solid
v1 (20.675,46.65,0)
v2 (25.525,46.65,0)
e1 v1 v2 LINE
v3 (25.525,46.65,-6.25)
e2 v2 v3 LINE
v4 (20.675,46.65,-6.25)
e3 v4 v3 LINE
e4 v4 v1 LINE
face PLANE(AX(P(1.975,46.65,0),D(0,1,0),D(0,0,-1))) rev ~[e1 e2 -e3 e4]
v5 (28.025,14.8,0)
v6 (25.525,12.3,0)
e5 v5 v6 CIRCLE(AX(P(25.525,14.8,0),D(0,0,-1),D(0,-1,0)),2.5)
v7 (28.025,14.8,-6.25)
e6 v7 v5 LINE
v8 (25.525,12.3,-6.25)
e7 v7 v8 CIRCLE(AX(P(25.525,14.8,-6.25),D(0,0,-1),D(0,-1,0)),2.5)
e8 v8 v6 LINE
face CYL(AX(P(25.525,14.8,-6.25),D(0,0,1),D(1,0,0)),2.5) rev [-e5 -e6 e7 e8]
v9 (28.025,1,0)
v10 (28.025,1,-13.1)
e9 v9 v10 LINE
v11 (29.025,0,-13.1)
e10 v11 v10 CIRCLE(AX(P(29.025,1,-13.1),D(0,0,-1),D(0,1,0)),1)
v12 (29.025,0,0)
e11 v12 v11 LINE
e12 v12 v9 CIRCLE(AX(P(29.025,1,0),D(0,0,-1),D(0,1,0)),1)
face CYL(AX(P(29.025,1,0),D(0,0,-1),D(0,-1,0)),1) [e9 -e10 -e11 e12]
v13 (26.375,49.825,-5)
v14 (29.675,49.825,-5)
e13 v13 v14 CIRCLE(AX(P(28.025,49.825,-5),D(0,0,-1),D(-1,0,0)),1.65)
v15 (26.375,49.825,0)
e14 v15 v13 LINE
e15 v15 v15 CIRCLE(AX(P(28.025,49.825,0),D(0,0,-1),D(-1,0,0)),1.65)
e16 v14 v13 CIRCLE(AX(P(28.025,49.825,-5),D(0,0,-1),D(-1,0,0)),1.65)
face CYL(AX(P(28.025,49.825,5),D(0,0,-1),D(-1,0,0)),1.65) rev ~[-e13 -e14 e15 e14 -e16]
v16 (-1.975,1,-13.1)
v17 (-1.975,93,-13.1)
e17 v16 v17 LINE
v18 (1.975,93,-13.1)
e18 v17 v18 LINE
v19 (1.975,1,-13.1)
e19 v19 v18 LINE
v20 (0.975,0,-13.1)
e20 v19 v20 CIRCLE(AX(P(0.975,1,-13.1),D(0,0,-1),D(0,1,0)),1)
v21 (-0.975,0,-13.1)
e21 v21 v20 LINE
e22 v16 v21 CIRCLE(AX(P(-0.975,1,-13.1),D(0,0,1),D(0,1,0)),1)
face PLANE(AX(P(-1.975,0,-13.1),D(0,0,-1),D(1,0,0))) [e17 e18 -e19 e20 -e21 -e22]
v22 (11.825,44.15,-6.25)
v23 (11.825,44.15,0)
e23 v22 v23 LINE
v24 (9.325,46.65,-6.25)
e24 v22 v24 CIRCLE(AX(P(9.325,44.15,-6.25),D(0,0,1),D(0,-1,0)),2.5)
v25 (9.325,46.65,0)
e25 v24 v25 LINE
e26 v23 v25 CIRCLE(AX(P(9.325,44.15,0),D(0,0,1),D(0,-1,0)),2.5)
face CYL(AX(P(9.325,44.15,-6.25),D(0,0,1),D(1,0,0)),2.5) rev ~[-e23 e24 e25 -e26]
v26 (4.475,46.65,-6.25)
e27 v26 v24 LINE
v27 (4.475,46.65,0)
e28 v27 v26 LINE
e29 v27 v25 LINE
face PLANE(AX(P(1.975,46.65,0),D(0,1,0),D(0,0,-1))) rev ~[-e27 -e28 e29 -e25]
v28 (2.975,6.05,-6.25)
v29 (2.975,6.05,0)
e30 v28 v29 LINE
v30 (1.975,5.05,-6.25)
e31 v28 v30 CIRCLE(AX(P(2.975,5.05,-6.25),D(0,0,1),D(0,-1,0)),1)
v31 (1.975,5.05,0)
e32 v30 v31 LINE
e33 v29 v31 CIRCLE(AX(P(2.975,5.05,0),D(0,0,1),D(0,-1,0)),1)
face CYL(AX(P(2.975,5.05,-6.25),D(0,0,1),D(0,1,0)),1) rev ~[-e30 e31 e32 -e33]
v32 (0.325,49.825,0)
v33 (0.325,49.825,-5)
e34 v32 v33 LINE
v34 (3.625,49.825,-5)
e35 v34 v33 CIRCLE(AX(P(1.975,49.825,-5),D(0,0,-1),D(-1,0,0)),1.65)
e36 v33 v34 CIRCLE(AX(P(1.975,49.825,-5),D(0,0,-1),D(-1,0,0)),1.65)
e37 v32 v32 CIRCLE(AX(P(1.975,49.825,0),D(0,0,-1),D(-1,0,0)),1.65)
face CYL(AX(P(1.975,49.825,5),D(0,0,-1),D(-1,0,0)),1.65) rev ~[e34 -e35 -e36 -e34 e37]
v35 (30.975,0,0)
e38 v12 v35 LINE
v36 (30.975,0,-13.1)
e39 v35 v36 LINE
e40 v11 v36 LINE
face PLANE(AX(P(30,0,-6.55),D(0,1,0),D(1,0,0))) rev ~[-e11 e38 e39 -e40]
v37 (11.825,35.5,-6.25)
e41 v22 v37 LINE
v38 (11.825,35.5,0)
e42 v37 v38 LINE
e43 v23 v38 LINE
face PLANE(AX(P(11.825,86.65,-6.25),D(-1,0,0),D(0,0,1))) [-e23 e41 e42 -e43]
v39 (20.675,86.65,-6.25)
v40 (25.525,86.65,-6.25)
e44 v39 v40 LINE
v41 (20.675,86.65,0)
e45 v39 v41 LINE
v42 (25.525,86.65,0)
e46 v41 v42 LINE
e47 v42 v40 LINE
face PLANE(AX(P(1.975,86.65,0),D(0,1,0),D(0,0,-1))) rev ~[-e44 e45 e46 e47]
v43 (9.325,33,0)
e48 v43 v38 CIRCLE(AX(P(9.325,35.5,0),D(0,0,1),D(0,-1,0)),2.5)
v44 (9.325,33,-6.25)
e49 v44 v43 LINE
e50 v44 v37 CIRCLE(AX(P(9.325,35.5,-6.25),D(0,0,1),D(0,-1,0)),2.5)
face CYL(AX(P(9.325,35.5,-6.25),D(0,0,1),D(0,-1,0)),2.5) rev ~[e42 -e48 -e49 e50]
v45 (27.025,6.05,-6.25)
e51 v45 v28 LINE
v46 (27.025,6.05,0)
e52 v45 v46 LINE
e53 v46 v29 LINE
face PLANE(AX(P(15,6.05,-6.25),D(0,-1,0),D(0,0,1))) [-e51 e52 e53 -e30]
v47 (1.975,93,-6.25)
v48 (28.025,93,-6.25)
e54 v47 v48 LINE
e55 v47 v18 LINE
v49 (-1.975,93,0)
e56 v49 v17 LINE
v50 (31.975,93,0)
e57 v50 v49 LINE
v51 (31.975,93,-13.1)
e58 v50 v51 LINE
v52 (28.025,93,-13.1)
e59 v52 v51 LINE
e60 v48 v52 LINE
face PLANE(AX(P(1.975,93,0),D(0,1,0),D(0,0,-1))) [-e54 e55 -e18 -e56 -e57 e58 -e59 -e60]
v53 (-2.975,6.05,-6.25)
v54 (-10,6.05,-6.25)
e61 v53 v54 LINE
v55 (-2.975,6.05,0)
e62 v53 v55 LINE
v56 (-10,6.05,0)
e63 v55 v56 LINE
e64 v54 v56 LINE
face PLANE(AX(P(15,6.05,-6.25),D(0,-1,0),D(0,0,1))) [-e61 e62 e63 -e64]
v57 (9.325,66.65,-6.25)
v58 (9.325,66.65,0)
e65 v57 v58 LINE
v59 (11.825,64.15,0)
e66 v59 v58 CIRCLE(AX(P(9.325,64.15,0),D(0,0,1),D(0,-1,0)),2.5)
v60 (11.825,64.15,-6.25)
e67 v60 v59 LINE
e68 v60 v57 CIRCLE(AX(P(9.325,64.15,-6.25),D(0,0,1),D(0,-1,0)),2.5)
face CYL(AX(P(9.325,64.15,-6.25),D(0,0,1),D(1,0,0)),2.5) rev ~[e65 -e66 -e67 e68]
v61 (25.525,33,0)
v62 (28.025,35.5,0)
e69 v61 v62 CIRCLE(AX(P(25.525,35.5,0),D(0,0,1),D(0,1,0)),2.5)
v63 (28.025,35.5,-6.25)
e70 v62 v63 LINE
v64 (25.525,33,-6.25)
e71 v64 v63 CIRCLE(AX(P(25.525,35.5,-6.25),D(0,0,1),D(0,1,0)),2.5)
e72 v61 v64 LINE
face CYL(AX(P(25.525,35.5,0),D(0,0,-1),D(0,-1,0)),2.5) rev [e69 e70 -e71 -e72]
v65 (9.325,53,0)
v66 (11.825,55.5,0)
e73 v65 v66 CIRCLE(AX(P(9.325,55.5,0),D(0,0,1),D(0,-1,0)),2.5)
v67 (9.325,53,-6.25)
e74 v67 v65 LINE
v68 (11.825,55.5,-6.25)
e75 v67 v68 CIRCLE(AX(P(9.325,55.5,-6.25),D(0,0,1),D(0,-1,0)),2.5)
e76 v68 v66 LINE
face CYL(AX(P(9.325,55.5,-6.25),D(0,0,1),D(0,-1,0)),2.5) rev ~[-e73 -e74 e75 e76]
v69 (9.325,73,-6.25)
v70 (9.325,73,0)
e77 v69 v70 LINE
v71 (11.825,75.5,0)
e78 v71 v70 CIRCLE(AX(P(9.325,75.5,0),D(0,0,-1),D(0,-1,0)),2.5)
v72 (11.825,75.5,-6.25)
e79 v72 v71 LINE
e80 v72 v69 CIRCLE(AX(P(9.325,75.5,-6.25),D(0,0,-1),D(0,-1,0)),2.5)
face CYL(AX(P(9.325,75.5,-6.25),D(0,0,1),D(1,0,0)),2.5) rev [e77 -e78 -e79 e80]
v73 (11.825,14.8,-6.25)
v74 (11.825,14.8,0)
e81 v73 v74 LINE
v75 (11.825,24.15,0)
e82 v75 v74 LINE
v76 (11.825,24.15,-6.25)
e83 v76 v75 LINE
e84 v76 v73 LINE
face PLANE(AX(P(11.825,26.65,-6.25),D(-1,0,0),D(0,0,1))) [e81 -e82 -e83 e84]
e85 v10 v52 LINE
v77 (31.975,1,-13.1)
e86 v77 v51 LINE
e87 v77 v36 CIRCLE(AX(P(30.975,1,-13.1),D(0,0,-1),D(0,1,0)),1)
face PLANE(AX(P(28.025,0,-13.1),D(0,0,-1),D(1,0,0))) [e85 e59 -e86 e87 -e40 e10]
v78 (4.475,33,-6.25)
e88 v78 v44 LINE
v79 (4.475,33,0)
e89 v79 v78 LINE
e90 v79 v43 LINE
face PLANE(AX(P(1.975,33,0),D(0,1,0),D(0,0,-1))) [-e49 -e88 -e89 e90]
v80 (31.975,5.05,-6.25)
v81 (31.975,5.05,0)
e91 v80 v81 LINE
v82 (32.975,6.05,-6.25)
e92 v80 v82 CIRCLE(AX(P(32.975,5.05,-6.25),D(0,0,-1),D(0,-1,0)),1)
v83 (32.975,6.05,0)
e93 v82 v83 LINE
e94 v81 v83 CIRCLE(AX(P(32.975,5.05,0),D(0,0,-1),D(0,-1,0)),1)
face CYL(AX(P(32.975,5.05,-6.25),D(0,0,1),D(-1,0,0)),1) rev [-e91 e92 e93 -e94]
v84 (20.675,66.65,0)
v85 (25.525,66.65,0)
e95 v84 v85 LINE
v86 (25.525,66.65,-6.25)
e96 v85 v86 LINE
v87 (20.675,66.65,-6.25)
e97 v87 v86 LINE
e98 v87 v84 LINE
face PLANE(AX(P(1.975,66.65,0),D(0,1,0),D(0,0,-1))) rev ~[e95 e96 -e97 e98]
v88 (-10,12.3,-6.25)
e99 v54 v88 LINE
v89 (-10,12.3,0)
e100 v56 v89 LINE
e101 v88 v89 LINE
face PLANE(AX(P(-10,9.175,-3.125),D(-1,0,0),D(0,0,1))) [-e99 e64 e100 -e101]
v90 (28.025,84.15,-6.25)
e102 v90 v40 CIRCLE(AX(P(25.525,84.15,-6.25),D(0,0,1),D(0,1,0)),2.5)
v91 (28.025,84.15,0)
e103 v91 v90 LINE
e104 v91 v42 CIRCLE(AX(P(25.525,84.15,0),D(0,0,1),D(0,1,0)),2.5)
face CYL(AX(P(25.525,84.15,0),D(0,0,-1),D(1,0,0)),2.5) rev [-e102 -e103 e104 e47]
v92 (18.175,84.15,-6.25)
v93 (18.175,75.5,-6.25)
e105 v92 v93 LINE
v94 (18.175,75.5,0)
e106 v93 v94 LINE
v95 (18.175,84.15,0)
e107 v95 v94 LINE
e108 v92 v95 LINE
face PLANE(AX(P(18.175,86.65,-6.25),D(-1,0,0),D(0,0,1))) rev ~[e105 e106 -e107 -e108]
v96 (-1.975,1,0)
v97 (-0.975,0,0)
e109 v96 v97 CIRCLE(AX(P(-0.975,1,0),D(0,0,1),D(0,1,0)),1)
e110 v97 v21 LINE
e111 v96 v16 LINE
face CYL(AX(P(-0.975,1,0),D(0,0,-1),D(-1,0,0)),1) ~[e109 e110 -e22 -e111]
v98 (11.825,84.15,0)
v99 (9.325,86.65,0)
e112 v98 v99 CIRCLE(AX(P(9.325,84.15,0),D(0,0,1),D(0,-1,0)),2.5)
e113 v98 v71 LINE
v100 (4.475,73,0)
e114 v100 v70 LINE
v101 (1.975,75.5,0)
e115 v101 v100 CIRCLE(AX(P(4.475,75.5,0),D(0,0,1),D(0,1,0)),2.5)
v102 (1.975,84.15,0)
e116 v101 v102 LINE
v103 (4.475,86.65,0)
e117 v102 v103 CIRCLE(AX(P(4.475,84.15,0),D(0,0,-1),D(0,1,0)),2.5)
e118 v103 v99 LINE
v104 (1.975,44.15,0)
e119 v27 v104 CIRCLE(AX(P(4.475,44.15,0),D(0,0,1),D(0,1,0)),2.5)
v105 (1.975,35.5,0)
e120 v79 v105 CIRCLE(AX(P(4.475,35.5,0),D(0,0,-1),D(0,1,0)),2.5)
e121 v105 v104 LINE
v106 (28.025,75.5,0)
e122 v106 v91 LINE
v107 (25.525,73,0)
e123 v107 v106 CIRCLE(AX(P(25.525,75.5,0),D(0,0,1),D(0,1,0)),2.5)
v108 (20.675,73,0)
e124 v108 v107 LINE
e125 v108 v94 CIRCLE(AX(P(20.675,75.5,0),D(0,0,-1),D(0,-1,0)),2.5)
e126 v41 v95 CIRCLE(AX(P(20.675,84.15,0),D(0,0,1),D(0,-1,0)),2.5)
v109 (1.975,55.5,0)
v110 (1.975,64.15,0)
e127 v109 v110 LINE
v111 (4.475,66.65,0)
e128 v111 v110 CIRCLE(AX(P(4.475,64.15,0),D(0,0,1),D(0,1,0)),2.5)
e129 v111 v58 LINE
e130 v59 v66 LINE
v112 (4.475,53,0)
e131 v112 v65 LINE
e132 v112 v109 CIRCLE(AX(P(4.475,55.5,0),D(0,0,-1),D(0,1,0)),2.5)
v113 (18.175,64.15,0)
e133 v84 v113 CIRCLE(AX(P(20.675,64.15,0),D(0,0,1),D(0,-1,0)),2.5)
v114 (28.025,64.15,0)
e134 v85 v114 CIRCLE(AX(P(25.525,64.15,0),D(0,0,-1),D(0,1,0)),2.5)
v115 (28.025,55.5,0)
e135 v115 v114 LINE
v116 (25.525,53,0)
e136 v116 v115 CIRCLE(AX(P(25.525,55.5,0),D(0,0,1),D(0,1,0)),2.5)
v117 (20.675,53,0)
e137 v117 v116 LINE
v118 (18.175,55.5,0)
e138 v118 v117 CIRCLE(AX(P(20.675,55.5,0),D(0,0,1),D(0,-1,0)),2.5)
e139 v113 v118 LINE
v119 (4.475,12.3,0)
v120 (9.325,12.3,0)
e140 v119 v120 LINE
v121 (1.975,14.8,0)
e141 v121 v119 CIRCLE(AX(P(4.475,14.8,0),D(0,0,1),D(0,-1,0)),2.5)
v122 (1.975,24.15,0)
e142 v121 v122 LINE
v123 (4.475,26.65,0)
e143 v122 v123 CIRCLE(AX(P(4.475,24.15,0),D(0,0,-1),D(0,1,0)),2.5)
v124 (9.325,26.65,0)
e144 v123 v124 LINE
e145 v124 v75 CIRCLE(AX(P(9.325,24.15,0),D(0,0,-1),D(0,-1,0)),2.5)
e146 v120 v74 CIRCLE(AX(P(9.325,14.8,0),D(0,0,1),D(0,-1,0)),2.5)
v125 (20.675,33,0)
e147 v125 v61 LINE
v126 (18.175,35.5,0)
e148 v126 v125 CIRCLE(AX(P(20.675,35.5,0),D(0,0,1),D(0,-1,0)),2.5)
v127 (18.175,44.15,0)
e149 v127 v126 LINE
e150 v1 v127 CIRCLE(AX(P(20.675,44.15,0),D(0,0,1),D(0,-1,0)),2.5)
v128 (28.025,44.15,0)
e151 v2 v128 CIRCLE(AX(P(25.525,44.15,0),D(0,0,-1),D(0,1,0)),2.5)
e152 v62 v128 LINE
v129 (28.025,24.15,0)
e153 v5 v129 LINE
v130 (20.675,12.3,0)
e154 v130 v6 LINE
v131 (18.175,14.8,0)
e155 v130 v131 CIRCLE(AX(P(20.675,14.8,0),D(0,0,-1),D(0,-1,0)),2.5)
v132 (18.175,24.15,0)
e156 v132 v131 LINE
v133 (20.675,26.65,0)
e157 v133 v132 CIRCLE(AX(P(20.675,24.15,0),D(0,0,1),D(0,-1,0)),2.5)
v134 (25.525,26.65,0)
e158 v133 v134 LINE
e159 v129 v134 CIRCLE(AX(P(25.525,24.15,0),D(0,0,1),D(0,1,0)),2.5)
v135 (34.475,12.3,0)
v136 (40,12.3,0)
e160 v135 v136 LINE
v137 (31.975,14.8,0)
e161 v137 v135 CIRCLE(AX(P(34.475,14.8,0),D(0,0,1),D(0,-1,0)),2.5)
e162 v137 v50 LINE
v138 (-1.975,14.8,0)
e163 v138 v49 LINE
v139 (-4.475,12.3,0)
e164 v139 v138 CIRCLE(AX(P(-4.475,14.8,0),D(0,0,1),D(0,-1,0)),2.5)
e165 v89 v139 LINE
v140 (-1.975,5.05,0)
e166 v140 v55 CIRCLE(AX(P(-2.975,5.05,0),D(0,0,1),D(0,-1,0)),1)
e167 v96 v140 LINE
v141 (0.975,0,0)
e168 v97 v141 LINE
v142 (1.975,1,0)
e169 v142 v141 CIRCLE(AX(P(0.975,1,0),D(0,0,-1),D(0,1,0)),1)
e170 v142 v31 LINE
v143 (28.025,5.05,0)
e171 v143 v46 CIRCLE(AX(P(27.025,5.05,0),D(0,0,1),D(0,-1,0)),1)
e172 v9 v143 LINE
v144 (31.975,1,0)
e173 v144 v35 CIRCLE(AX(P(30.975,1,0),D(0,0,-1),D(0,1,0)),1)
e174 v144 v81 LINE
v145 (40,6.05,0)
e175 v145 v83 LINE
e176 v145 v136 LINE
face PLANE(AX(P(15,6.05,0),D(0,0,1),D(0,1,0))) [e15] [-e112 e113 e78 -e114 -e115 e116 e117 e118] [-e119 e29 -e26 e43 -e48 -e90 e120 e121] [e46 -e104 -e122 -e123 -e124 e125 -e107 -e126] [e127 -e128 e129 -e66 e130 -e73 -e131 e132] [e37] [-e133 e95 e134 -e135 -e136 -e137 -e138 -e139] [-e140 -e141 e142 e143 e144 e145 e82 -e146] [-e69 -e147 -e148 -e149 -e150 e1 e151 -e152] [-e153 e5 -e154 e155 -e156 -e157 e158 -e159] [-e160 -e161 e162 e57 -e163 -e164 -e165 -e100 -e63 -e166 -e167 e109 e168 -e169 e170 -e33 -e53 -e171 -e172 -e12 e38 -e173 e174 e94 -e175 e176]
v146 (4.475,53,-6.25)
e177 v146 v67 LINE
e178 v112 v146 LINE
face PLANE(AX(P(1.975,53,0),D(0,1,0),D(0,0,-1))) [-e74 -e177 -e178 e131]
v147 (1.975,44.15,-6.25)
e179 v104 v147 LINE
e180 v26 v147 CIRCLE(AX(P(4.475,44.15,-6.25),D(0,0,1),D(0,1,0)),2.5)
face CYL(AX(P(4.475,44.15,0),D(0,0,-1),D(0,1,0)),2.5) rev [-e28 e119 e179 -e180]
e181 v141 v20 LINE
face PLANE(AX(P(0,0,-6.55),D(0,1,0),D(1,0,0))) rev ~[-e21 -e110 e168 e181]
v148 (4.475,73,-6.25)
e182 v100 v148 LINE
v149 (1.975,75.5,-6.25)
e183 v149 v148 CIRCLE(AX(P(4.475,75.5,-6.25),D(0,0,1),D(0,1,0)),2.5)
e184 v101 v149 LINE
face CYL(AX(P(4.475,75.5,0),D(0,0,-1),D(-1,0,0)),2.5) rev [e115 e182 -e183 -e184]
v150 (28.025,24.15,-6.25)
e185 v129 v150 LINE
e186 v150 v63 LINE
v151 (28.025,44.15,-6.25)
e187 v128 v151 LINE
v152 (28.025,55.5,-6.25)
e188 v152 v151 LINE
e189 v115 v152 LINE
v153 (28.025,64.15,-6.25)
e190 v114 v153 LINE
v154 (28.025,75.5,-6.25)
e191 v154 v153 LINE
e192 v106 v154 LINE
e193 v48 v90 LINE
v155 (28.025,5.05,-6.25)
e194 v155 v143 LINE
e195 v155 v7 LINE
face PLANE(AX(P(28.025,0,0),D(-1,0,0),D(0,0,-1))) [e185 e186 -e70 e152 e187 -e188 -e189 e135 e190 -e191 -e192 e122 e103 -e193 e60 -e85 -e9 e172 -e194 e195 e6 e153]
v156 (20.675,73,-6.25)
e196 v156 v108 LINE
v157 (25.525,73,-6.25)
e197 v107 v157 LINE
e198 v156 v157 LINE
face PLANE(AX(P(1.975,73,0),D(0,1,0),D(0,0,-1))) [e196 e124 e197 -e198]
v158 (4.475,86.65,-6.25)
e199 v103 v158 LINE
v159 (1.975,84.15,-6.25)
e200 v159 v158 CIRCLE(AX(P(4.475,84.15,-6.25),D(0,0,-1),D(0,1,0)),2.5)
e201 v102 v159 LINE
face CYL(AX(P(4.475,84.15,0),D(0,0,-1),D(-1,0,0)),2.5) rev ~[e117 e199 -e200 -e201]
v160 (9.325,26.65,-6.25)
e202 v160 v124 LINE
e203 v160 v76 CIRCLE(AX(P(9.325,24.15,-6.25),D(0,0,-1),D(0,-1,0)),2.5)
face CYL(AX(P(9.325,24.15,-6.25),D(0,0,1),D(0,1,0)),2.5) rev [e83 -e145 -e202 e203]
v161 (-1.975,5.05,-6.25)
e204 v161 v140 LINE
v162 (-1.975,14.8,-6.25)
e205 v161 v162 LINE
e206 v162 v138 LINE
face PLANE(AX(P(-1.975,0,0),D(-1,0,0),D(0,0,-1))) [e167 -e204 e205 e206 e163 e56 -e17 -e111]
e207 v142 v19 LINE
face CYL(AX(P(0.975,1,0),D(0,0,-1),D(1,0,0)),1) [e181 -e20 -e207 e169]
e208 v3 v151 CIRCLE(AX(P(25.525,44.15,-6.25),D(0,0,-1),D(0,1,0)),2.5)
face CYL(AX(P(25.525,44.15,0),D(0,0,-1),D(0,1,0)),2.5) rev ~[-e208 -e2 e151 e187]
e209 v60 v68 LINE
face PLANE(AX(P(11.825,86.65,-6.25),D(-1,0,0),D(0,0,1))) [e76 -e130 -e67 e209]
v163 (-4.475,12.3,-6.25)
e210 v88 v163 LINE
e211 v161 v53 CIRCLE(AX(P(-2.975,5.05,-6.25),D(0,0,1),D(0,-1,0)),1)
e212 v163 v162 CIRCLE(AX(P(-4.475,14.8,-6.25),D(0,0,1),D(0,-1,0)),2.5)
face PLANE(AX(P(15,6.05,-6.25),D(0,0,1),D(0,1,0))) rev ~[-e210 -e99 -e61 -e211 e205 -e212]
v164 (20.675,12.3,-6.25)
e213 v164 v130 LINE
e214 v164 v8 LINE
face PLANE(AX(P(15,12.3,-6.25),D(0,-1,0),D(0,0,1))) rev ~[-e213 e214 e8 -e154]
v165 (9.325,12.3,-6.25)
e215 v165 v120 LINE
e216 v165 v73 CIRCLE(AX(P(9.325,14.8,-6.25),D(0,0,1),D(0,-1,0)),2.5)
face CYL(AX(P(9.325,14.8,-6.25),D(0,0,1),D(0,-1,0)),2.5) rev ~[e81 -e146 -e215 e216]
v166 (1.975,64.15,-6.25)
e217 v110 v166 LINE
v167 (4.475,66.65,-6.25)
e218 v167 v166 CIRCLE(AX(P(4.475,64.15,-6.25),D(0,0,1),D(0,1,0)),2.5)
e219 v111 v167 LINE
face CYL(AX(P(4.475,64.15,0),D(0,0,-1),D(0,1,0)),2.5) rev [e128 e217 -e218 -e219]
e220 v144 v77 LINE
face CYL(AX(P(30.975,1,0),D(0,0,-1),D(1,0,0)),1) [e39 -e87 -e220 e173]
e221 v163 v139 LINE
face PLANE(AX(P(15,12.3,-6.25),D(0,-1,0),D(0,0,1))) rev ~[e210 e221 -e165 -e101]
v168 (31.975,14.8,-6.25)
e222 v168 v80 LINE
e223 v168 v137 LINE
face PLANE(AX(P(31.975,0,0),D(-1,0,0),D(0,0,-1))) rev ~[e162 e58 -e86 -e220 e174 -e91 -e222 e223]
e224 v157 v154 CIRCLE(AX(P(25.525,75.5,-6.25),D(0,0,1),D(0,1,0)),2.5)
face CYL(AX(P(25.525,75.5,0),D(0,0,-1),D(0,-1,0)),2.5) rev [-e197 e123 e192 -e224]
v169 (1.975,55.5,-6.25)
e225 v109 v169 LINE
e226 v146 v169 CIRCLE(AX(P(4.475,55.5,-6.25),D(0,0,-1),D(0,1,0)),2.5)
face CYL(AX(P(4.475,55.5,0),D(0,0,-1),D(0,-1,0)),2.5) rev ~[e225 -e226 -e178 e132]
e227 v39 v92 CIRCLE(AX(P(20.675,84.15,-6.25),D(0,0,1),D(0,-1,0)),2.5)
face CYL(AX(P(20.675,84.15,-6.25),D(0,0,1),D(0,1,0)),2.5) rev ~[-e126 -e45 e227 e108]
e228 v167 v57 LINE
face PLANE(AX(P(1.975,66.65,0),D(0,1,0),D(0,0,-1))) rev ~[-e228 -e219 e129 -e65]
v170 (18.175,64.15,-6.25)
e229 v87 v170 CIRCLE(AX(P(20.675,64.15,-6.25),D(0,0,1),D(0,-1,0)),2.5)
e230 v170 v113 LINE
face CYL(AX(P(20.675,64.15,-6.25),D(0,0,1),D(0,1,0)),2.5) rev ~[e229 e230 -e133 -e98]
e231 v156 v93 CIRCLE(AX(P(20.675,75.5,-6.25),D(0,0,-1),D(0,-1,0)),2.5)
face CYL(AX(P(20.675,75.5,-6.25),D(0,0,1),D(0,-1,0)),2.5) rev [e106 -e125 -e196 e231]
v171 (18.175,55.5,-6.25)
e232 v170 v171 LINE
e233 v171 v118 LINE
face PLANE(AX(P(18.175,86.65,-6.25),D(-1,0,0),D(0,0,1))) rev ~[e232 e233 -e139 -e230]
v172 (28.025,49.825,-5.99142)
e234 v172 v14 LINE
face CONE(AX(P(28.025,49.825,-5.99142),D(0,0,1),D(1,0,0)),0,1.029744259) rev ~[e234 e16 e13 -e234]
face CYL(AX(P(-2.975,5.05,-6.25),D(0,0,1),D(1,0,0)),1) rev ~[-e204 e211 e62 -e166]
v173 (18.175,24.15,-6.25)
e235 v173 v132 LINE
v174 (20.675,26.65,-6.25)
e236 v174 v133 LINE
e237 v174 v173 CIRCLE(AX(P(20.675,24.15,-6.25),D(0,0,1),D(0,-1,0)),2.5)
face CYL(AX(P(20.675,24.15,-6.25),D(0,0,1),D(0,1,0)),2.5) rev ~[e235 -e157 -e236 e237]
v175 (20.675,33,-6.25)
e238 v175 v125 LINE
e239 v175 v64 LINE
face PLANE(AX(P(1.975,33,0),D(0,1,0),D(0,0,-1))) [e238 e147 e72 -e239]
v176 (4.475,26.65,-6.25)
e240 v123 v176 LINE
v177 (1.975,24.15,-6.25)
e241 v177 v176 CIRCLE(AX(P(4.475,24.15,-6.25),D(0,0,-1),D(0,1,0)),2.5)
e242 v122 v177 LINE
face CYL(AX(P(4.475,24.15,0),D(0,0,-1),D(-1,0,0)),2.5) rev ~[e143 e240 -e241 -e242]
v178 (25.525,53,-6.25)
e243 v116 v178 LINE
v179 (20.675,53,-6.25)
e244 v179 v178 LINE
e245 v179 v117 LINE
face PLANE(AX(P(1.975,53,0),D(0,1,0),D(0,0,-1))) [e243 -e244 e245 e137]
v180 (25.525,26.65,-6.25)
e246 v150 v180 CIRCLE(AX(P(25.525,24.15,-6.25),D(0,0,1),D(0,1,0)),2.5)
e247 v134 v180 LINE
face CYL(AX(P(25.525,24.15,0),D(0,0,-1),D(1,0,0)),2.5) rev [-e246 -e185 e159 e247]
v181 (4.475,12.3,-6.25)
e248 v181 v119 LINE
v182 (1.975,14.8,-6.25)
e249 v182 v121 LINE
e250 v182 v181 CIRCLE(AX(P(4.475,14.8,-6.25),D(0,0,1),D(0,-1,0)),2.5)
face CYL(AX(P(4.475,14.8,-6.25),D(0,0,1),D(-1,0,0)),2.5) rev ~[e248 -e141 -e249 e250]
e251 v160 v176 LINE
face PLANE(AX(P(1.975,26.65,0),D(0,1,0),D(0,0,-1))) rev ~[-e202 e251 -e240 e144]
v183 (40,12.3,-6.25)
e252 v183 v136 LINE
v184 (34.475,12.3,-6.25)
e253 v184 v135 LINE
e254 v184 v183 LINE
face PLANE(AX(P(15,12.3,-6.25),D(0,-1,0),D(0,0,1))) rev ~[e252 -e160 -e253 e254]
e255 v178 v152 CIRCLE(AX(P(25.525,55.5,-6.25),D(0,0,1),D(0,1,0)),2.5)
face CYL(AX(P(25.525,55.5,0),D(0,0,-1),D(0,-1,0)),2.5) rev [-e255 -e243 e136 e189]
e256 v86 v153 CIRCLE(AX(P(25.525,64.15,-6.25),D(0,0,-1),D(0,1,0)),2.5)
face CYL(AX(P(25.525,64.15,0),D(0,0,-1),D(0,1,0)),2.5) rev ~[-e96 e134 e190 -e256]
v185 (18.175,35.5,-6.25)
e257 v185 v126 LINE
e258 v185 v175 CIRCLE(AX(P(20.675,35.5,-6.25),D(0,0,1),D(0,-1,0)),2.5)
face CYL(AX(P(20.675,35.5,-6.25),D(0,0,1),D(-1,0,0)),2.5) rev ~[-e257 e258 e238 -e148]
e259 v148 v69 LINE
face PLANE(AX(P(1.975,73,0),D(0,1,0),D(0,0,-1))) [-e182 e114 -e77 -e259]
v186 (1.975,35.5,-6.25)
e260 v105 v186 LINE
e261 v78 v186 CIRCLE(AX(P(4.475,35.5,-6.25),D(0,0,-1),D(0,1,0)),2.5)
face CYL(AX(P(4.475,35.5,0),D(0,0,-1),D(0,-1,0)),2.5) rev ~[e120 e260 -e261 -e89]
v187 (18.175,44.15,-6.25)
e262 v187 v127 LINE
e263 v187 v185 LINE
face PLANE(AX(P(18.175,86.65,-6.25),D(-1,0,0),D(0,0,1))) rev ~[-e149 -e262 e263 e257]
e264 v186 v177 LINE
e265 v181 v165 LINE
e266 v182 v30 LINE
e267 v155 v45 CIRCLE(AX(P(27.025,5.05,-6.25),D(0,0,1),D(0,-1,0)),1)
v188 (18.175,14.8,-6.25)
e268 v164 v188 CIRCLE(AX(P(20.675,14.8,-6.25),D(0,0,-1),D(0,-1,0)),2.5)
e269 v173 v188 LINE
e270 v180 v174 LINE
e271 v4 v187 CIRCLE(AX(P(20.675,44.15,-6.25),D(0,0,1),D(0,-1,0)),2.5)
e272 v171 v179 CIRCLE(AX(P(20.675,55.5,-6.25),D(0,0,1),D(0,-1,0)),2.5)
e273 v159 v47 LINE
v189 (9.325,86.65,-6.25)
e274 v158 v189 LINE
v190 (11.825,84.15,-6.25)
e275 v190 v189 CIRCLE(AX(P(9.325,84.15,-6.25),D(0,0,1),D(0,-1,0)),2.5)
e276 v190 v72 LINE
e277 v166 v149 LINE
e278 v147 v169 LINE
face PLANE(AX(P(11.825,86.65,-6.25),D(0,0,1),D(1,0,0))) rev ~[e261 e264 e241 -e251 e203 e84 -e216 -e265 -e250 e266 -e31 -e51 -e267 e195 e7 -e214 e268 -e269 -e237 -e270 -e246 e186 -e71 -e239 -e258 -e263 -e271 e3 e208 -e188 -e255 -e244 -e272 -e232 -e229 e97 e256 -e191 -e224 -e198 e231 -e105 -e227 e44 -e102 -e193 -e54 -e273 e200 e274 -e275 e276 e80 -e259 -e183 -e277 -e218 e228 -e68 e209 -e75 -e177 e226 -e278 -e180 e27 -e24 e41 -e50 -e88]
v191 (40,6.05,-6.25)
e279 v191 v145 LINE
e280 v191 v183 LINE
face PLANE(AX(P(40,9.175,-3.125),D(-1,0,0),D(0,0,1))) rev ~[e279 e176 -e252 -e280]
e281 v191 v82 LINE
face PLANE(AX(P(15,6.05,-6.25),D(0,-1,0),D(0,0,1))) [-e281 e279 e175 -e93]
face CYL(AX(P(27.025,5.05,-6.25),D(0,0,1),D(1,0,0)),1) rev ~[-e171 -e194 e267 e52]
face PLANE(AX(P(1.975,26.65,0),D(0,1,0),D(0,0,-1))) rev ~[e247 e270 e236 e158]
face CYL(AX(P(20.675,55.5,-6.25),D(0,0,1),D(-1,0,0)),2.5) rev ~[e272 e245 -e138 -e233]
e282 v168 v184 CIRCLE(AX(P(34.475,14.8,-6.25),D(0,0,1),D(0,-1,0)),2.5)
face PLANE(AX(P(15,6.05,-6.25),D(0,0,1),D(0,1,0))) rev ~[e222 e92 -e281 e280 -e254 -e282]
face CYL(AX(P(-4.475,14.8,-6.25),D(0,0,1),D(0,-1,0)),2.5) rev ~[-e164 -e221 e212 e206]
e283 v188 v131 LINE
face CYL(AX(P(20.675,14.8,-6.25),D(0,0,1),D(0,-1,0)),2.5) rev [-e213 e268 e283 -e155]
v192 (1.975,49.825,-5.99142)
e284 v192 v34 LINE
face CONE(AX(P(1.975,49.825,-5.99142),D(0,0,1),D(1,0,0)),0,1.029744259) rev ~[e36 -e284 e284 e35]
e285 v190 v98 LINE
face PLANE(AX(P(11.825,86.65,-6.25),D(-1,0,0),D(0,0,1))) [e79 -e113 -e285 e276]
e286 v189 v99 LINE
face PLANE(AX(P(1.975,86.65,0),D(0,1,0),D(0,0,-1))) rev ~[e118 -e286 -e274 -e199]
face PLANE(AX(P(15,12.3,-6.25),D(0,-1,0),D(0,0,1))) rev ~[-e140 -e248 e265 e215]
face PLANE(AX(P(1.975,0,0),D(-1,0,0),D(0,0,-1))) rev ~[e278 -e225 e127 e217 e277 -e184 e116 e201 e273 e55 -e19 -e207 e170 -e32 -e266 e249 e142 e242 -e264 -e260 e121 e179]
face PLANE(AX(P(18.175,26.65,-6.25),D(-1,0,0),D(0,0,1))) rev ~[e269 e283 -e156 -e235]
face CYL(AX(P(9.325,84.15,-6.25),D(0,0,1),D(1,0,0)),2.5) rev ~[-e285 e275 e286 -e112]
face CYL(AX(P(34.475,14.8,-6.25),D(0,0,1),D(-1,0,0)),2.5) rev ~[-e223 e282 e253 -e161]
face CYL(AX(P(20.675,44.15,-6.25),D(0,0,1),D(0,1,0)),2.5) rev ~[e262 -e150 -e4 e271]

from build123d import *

# Parameters (mm, degrees)
SKETCH1_W                      = 3.95
SKETCH1_H                      = 13.1
BOSS_EXTRUDE1_DEPTH            = 93
SKETCH2_W                      = 3.95
SKETCH2_H                      = 13.1
BOSS_EXTRUDE2_DEPTH            = 93
SKETCH3_W                      = 6.25
SKETCH3_H                      = 6.35
BOSS_EXTRUDE3_DEPTH            = 30
LPATTERN1_COUNT                = 4
LPATTERN1_PITCH                = 20
SKETCH4_W                      = 6.35
SKETCH4_H                      = 6.25
BOSS_EXTRUDE4_DEPTH            = 60
FILLET1_R                      = 2.5
SKETCH5_W                      = 6.25
SKETCH5_H                      = 6.25
BOSS_EXTRUDE5_DEPTH            = 25
FILLET2_R                      = 2.5
FILLET3_R                      = 2.5
SKETCH6_W                      = 6.35
SKETCH6_H                      = 6.25
BOSS_EXTRUDE6_DEPTH            = 14.35
FILLET4_R                      = 2.5
F_3_3_3_3_DIAMETER_HOLE1_D     = 3.3
F_3_3_3_3_DIAMETER_HOLE1_DEPTH = 5
F_3_3_3_3_DIAMETER_HOLE1_TIP   = 0.991420021
FILLET5_R                      = 1
FILLET6_R                      = 1


with BuildPart() as part:
    # Sketch1 → Boss-Extrude1 (new body)
    with BuildSketch(Plane(origin=(0, 0, 0), x_dir=(1, 0, 0), z_dir=(0, 1, 0))):
        with Locations((0, 6.55)):
            Rectangle(SKETCH1_W, SKETCH1_H)
    extrude(amount=BOSS_EXTRUDE1_DEPTH)



with BuildPart() as body_2:
    # Sketch2 → Boss-Extrude2 (new body)
    with BuildSketch(Plane(origin=(0, 0, 0), x_dir=(1, 0, 0), z_dir=(0, 1, 0))):
        with Locations((30, 6.55)):
            Rectangle(SKETCH2_W, SKETCH2_H)
    extrude(amount=BOSS_EXTRUDE2_DEPTH)


with BuildPart() as part_1:
    add(part.part)

    add(body_2.part)  # Boss-Extrude3 merges body 2
    # Sketch3 → Boss-Extrude3 (add)
    with BuildSketch(Plane(origin=(1.975, 0, 0), x_dir=(0, 0, -1), z_dir=(1, 0, 0))):
        with Locations((3.125, 89.825)):
            Rectangle(SKETCH3_W, SKETCH3_H)
    boss_extrude3 = extrude(amount=BOSS_EXTRUDE3_DEPTH)

    # LPattern1: Boss-Extrude3 ×4
    with Locations(*[(0, -i * LPATTERN1_PITCH, 0) for i in range(1, LPATTERN1_COUNT)]):
        add(boss_extrude3)

    # Sketch4 → Boss-Extrude4 (add)
    with BuildSketch(Plane.XZ.offset(-86.65)):
        with Locations((15, -3.125)):
            Rectangle(SKETCH4_W, SKETCH4_H)
    extrude(amount=BOSS_EXTRUDE4_DEPTH)

    # Fillet1
    fillet1_edges = [part_1.edges().sort_by_distance(p)[0] for p in [
        (18.175, 66.65, -3.125),
        (18.175, 53, -3.125),
        (18.175, 73, -3.125),
        (18.175, 86.65, -3.125),
        (18.175, 46.65, -3.125),
        (11.825, 66.65, -3.125),
        (11.825, 53, -3.125),
        (11.825, 73, -3.125),
        (11.825, 86.65, -3.125),
        (11.825, 46.65, -3.125),
        (28.025, 86.65, -3.125),
        (1.975, 86.65, -3.125),
        (28.025, 66.65, -3.125),
        (28.025, 73, -3.125),
        (1.975, 66.65, -3.125),
        (1.975, 73, -3.125),
        (28.025, 46.65, -3.125),
        (28.025, 53, -3.125),
        (1.975, 46.65, -3.125),
        (1.975, 53, -3.125),
        (28.025, 33, -3.125),
        (1.975, 33, -3.125),
        (11.825, 33, -3.125),
        (18.175, 33, -3.125),
    ]]
    fillet(fillet1_edges, radius=FILLET1_R)

    # Sketch5 → Boss-Extrude5 (add, symmetric)
    with BuildSketch(Plane.ZY.offset(-15)):
        with Locations((-3.125, 9.175)):
            Rectangle(SKETCH5_W, SKETCH5_H)
    extrude(amount=BOSS_EXTRUDE5_DEPTH, both=True)

    # Fillet2
    fillet2_edges = [part_1.edges().sort_by_distance(p)[0] for p in [
        (1.975, 12.3, -3.125),
        (28.025, 12.3, -3.125),
        (28.025, 26.65, -3.125),
        (1.975, 26.65, -3.125),
    ]]
    fillet(fillet2_edges, radius=FILLET2_R)

    # Fillet3
    fillet3_edges = [part_1.edges().sort_by_distance(p)[0] for p in [
        (31.975, 12.3, -3.125),
        (-1.975, 12.3, -3.125),
    ]]
    fillet(fillet3_edges, radius=FILLET3_R)

    # Sketch6 → Boss-Extrude6 (add)
    with BuildSketch(Plane.XZ.offset(-26.65)):
        with Locations((15, -3.125)):
            Rectangle(SKETCH6_W, SKETCH6_H)
    extrude(amount=BOSS_EXTRUDE6_DEPTH)

    # Fillet4
    fillet4_edges = [part_1.edges().sort_by_distance(p)[0] for p in [
        (18.175, 26.65, -3.125),
        (11.825, 26.65, -3.125),
        (18.175, 12.3, -3.125),
        (11.825, 12.3, -3.125),
    ]]
    fillet(fillet4_edges, radius=FILLET4_R)

    # Ø3.3 (3.3) Diameter Hole1
    with Locations(Plane.XY):
        with Locations((28.025, 49.825), (1.975, 49.825)):
            Hole(F_3_3_3_3_DIAMETER_HOLE1_D / 2, depth=F_3_3_3_3_DIAMETER_HOLE1_DEPTH)
            with Locations((0, 0, -(F_3_3_3_3_DIAMETER_HOLE1_DEPTH + F_3_3_3_3_DIAMETER_HOLE1_TIP / 2))):  # 118° drill point
                Cone(0, F_3_3_3_3_DIAMETER_HOLE1_D / 2, F_3_3_3_3_DIAMETER_HOLE1_TIP, mode=Mode.SUBTRACT)

    # Fillet5
    fillet5_edges = [part_1.edges().sort_by_distance(p)[0] for p in [
        (28.025, 0, -6.55),
        (31.975, 0, -6.55),
        (1.975, 0, -6.55),
        (-1.975, 0, -6.55),
    ]]
    fillet(fillet5_edges, radius=FILLET5_R)

    # Fillet6
    fillet6_edges = [part_1.edges().sort_by_distance(p)[0] for p in [
        (31.975, 6.05, -3.125),
        (1.975, 6.05, -3.125),
        (28.025, 6.05, -3.125),
        (-1.975, 6.05, -3.125),
    ]]
    fillet(fillet6_edges, radius=FILLET6_R)


solid = part_1.part
